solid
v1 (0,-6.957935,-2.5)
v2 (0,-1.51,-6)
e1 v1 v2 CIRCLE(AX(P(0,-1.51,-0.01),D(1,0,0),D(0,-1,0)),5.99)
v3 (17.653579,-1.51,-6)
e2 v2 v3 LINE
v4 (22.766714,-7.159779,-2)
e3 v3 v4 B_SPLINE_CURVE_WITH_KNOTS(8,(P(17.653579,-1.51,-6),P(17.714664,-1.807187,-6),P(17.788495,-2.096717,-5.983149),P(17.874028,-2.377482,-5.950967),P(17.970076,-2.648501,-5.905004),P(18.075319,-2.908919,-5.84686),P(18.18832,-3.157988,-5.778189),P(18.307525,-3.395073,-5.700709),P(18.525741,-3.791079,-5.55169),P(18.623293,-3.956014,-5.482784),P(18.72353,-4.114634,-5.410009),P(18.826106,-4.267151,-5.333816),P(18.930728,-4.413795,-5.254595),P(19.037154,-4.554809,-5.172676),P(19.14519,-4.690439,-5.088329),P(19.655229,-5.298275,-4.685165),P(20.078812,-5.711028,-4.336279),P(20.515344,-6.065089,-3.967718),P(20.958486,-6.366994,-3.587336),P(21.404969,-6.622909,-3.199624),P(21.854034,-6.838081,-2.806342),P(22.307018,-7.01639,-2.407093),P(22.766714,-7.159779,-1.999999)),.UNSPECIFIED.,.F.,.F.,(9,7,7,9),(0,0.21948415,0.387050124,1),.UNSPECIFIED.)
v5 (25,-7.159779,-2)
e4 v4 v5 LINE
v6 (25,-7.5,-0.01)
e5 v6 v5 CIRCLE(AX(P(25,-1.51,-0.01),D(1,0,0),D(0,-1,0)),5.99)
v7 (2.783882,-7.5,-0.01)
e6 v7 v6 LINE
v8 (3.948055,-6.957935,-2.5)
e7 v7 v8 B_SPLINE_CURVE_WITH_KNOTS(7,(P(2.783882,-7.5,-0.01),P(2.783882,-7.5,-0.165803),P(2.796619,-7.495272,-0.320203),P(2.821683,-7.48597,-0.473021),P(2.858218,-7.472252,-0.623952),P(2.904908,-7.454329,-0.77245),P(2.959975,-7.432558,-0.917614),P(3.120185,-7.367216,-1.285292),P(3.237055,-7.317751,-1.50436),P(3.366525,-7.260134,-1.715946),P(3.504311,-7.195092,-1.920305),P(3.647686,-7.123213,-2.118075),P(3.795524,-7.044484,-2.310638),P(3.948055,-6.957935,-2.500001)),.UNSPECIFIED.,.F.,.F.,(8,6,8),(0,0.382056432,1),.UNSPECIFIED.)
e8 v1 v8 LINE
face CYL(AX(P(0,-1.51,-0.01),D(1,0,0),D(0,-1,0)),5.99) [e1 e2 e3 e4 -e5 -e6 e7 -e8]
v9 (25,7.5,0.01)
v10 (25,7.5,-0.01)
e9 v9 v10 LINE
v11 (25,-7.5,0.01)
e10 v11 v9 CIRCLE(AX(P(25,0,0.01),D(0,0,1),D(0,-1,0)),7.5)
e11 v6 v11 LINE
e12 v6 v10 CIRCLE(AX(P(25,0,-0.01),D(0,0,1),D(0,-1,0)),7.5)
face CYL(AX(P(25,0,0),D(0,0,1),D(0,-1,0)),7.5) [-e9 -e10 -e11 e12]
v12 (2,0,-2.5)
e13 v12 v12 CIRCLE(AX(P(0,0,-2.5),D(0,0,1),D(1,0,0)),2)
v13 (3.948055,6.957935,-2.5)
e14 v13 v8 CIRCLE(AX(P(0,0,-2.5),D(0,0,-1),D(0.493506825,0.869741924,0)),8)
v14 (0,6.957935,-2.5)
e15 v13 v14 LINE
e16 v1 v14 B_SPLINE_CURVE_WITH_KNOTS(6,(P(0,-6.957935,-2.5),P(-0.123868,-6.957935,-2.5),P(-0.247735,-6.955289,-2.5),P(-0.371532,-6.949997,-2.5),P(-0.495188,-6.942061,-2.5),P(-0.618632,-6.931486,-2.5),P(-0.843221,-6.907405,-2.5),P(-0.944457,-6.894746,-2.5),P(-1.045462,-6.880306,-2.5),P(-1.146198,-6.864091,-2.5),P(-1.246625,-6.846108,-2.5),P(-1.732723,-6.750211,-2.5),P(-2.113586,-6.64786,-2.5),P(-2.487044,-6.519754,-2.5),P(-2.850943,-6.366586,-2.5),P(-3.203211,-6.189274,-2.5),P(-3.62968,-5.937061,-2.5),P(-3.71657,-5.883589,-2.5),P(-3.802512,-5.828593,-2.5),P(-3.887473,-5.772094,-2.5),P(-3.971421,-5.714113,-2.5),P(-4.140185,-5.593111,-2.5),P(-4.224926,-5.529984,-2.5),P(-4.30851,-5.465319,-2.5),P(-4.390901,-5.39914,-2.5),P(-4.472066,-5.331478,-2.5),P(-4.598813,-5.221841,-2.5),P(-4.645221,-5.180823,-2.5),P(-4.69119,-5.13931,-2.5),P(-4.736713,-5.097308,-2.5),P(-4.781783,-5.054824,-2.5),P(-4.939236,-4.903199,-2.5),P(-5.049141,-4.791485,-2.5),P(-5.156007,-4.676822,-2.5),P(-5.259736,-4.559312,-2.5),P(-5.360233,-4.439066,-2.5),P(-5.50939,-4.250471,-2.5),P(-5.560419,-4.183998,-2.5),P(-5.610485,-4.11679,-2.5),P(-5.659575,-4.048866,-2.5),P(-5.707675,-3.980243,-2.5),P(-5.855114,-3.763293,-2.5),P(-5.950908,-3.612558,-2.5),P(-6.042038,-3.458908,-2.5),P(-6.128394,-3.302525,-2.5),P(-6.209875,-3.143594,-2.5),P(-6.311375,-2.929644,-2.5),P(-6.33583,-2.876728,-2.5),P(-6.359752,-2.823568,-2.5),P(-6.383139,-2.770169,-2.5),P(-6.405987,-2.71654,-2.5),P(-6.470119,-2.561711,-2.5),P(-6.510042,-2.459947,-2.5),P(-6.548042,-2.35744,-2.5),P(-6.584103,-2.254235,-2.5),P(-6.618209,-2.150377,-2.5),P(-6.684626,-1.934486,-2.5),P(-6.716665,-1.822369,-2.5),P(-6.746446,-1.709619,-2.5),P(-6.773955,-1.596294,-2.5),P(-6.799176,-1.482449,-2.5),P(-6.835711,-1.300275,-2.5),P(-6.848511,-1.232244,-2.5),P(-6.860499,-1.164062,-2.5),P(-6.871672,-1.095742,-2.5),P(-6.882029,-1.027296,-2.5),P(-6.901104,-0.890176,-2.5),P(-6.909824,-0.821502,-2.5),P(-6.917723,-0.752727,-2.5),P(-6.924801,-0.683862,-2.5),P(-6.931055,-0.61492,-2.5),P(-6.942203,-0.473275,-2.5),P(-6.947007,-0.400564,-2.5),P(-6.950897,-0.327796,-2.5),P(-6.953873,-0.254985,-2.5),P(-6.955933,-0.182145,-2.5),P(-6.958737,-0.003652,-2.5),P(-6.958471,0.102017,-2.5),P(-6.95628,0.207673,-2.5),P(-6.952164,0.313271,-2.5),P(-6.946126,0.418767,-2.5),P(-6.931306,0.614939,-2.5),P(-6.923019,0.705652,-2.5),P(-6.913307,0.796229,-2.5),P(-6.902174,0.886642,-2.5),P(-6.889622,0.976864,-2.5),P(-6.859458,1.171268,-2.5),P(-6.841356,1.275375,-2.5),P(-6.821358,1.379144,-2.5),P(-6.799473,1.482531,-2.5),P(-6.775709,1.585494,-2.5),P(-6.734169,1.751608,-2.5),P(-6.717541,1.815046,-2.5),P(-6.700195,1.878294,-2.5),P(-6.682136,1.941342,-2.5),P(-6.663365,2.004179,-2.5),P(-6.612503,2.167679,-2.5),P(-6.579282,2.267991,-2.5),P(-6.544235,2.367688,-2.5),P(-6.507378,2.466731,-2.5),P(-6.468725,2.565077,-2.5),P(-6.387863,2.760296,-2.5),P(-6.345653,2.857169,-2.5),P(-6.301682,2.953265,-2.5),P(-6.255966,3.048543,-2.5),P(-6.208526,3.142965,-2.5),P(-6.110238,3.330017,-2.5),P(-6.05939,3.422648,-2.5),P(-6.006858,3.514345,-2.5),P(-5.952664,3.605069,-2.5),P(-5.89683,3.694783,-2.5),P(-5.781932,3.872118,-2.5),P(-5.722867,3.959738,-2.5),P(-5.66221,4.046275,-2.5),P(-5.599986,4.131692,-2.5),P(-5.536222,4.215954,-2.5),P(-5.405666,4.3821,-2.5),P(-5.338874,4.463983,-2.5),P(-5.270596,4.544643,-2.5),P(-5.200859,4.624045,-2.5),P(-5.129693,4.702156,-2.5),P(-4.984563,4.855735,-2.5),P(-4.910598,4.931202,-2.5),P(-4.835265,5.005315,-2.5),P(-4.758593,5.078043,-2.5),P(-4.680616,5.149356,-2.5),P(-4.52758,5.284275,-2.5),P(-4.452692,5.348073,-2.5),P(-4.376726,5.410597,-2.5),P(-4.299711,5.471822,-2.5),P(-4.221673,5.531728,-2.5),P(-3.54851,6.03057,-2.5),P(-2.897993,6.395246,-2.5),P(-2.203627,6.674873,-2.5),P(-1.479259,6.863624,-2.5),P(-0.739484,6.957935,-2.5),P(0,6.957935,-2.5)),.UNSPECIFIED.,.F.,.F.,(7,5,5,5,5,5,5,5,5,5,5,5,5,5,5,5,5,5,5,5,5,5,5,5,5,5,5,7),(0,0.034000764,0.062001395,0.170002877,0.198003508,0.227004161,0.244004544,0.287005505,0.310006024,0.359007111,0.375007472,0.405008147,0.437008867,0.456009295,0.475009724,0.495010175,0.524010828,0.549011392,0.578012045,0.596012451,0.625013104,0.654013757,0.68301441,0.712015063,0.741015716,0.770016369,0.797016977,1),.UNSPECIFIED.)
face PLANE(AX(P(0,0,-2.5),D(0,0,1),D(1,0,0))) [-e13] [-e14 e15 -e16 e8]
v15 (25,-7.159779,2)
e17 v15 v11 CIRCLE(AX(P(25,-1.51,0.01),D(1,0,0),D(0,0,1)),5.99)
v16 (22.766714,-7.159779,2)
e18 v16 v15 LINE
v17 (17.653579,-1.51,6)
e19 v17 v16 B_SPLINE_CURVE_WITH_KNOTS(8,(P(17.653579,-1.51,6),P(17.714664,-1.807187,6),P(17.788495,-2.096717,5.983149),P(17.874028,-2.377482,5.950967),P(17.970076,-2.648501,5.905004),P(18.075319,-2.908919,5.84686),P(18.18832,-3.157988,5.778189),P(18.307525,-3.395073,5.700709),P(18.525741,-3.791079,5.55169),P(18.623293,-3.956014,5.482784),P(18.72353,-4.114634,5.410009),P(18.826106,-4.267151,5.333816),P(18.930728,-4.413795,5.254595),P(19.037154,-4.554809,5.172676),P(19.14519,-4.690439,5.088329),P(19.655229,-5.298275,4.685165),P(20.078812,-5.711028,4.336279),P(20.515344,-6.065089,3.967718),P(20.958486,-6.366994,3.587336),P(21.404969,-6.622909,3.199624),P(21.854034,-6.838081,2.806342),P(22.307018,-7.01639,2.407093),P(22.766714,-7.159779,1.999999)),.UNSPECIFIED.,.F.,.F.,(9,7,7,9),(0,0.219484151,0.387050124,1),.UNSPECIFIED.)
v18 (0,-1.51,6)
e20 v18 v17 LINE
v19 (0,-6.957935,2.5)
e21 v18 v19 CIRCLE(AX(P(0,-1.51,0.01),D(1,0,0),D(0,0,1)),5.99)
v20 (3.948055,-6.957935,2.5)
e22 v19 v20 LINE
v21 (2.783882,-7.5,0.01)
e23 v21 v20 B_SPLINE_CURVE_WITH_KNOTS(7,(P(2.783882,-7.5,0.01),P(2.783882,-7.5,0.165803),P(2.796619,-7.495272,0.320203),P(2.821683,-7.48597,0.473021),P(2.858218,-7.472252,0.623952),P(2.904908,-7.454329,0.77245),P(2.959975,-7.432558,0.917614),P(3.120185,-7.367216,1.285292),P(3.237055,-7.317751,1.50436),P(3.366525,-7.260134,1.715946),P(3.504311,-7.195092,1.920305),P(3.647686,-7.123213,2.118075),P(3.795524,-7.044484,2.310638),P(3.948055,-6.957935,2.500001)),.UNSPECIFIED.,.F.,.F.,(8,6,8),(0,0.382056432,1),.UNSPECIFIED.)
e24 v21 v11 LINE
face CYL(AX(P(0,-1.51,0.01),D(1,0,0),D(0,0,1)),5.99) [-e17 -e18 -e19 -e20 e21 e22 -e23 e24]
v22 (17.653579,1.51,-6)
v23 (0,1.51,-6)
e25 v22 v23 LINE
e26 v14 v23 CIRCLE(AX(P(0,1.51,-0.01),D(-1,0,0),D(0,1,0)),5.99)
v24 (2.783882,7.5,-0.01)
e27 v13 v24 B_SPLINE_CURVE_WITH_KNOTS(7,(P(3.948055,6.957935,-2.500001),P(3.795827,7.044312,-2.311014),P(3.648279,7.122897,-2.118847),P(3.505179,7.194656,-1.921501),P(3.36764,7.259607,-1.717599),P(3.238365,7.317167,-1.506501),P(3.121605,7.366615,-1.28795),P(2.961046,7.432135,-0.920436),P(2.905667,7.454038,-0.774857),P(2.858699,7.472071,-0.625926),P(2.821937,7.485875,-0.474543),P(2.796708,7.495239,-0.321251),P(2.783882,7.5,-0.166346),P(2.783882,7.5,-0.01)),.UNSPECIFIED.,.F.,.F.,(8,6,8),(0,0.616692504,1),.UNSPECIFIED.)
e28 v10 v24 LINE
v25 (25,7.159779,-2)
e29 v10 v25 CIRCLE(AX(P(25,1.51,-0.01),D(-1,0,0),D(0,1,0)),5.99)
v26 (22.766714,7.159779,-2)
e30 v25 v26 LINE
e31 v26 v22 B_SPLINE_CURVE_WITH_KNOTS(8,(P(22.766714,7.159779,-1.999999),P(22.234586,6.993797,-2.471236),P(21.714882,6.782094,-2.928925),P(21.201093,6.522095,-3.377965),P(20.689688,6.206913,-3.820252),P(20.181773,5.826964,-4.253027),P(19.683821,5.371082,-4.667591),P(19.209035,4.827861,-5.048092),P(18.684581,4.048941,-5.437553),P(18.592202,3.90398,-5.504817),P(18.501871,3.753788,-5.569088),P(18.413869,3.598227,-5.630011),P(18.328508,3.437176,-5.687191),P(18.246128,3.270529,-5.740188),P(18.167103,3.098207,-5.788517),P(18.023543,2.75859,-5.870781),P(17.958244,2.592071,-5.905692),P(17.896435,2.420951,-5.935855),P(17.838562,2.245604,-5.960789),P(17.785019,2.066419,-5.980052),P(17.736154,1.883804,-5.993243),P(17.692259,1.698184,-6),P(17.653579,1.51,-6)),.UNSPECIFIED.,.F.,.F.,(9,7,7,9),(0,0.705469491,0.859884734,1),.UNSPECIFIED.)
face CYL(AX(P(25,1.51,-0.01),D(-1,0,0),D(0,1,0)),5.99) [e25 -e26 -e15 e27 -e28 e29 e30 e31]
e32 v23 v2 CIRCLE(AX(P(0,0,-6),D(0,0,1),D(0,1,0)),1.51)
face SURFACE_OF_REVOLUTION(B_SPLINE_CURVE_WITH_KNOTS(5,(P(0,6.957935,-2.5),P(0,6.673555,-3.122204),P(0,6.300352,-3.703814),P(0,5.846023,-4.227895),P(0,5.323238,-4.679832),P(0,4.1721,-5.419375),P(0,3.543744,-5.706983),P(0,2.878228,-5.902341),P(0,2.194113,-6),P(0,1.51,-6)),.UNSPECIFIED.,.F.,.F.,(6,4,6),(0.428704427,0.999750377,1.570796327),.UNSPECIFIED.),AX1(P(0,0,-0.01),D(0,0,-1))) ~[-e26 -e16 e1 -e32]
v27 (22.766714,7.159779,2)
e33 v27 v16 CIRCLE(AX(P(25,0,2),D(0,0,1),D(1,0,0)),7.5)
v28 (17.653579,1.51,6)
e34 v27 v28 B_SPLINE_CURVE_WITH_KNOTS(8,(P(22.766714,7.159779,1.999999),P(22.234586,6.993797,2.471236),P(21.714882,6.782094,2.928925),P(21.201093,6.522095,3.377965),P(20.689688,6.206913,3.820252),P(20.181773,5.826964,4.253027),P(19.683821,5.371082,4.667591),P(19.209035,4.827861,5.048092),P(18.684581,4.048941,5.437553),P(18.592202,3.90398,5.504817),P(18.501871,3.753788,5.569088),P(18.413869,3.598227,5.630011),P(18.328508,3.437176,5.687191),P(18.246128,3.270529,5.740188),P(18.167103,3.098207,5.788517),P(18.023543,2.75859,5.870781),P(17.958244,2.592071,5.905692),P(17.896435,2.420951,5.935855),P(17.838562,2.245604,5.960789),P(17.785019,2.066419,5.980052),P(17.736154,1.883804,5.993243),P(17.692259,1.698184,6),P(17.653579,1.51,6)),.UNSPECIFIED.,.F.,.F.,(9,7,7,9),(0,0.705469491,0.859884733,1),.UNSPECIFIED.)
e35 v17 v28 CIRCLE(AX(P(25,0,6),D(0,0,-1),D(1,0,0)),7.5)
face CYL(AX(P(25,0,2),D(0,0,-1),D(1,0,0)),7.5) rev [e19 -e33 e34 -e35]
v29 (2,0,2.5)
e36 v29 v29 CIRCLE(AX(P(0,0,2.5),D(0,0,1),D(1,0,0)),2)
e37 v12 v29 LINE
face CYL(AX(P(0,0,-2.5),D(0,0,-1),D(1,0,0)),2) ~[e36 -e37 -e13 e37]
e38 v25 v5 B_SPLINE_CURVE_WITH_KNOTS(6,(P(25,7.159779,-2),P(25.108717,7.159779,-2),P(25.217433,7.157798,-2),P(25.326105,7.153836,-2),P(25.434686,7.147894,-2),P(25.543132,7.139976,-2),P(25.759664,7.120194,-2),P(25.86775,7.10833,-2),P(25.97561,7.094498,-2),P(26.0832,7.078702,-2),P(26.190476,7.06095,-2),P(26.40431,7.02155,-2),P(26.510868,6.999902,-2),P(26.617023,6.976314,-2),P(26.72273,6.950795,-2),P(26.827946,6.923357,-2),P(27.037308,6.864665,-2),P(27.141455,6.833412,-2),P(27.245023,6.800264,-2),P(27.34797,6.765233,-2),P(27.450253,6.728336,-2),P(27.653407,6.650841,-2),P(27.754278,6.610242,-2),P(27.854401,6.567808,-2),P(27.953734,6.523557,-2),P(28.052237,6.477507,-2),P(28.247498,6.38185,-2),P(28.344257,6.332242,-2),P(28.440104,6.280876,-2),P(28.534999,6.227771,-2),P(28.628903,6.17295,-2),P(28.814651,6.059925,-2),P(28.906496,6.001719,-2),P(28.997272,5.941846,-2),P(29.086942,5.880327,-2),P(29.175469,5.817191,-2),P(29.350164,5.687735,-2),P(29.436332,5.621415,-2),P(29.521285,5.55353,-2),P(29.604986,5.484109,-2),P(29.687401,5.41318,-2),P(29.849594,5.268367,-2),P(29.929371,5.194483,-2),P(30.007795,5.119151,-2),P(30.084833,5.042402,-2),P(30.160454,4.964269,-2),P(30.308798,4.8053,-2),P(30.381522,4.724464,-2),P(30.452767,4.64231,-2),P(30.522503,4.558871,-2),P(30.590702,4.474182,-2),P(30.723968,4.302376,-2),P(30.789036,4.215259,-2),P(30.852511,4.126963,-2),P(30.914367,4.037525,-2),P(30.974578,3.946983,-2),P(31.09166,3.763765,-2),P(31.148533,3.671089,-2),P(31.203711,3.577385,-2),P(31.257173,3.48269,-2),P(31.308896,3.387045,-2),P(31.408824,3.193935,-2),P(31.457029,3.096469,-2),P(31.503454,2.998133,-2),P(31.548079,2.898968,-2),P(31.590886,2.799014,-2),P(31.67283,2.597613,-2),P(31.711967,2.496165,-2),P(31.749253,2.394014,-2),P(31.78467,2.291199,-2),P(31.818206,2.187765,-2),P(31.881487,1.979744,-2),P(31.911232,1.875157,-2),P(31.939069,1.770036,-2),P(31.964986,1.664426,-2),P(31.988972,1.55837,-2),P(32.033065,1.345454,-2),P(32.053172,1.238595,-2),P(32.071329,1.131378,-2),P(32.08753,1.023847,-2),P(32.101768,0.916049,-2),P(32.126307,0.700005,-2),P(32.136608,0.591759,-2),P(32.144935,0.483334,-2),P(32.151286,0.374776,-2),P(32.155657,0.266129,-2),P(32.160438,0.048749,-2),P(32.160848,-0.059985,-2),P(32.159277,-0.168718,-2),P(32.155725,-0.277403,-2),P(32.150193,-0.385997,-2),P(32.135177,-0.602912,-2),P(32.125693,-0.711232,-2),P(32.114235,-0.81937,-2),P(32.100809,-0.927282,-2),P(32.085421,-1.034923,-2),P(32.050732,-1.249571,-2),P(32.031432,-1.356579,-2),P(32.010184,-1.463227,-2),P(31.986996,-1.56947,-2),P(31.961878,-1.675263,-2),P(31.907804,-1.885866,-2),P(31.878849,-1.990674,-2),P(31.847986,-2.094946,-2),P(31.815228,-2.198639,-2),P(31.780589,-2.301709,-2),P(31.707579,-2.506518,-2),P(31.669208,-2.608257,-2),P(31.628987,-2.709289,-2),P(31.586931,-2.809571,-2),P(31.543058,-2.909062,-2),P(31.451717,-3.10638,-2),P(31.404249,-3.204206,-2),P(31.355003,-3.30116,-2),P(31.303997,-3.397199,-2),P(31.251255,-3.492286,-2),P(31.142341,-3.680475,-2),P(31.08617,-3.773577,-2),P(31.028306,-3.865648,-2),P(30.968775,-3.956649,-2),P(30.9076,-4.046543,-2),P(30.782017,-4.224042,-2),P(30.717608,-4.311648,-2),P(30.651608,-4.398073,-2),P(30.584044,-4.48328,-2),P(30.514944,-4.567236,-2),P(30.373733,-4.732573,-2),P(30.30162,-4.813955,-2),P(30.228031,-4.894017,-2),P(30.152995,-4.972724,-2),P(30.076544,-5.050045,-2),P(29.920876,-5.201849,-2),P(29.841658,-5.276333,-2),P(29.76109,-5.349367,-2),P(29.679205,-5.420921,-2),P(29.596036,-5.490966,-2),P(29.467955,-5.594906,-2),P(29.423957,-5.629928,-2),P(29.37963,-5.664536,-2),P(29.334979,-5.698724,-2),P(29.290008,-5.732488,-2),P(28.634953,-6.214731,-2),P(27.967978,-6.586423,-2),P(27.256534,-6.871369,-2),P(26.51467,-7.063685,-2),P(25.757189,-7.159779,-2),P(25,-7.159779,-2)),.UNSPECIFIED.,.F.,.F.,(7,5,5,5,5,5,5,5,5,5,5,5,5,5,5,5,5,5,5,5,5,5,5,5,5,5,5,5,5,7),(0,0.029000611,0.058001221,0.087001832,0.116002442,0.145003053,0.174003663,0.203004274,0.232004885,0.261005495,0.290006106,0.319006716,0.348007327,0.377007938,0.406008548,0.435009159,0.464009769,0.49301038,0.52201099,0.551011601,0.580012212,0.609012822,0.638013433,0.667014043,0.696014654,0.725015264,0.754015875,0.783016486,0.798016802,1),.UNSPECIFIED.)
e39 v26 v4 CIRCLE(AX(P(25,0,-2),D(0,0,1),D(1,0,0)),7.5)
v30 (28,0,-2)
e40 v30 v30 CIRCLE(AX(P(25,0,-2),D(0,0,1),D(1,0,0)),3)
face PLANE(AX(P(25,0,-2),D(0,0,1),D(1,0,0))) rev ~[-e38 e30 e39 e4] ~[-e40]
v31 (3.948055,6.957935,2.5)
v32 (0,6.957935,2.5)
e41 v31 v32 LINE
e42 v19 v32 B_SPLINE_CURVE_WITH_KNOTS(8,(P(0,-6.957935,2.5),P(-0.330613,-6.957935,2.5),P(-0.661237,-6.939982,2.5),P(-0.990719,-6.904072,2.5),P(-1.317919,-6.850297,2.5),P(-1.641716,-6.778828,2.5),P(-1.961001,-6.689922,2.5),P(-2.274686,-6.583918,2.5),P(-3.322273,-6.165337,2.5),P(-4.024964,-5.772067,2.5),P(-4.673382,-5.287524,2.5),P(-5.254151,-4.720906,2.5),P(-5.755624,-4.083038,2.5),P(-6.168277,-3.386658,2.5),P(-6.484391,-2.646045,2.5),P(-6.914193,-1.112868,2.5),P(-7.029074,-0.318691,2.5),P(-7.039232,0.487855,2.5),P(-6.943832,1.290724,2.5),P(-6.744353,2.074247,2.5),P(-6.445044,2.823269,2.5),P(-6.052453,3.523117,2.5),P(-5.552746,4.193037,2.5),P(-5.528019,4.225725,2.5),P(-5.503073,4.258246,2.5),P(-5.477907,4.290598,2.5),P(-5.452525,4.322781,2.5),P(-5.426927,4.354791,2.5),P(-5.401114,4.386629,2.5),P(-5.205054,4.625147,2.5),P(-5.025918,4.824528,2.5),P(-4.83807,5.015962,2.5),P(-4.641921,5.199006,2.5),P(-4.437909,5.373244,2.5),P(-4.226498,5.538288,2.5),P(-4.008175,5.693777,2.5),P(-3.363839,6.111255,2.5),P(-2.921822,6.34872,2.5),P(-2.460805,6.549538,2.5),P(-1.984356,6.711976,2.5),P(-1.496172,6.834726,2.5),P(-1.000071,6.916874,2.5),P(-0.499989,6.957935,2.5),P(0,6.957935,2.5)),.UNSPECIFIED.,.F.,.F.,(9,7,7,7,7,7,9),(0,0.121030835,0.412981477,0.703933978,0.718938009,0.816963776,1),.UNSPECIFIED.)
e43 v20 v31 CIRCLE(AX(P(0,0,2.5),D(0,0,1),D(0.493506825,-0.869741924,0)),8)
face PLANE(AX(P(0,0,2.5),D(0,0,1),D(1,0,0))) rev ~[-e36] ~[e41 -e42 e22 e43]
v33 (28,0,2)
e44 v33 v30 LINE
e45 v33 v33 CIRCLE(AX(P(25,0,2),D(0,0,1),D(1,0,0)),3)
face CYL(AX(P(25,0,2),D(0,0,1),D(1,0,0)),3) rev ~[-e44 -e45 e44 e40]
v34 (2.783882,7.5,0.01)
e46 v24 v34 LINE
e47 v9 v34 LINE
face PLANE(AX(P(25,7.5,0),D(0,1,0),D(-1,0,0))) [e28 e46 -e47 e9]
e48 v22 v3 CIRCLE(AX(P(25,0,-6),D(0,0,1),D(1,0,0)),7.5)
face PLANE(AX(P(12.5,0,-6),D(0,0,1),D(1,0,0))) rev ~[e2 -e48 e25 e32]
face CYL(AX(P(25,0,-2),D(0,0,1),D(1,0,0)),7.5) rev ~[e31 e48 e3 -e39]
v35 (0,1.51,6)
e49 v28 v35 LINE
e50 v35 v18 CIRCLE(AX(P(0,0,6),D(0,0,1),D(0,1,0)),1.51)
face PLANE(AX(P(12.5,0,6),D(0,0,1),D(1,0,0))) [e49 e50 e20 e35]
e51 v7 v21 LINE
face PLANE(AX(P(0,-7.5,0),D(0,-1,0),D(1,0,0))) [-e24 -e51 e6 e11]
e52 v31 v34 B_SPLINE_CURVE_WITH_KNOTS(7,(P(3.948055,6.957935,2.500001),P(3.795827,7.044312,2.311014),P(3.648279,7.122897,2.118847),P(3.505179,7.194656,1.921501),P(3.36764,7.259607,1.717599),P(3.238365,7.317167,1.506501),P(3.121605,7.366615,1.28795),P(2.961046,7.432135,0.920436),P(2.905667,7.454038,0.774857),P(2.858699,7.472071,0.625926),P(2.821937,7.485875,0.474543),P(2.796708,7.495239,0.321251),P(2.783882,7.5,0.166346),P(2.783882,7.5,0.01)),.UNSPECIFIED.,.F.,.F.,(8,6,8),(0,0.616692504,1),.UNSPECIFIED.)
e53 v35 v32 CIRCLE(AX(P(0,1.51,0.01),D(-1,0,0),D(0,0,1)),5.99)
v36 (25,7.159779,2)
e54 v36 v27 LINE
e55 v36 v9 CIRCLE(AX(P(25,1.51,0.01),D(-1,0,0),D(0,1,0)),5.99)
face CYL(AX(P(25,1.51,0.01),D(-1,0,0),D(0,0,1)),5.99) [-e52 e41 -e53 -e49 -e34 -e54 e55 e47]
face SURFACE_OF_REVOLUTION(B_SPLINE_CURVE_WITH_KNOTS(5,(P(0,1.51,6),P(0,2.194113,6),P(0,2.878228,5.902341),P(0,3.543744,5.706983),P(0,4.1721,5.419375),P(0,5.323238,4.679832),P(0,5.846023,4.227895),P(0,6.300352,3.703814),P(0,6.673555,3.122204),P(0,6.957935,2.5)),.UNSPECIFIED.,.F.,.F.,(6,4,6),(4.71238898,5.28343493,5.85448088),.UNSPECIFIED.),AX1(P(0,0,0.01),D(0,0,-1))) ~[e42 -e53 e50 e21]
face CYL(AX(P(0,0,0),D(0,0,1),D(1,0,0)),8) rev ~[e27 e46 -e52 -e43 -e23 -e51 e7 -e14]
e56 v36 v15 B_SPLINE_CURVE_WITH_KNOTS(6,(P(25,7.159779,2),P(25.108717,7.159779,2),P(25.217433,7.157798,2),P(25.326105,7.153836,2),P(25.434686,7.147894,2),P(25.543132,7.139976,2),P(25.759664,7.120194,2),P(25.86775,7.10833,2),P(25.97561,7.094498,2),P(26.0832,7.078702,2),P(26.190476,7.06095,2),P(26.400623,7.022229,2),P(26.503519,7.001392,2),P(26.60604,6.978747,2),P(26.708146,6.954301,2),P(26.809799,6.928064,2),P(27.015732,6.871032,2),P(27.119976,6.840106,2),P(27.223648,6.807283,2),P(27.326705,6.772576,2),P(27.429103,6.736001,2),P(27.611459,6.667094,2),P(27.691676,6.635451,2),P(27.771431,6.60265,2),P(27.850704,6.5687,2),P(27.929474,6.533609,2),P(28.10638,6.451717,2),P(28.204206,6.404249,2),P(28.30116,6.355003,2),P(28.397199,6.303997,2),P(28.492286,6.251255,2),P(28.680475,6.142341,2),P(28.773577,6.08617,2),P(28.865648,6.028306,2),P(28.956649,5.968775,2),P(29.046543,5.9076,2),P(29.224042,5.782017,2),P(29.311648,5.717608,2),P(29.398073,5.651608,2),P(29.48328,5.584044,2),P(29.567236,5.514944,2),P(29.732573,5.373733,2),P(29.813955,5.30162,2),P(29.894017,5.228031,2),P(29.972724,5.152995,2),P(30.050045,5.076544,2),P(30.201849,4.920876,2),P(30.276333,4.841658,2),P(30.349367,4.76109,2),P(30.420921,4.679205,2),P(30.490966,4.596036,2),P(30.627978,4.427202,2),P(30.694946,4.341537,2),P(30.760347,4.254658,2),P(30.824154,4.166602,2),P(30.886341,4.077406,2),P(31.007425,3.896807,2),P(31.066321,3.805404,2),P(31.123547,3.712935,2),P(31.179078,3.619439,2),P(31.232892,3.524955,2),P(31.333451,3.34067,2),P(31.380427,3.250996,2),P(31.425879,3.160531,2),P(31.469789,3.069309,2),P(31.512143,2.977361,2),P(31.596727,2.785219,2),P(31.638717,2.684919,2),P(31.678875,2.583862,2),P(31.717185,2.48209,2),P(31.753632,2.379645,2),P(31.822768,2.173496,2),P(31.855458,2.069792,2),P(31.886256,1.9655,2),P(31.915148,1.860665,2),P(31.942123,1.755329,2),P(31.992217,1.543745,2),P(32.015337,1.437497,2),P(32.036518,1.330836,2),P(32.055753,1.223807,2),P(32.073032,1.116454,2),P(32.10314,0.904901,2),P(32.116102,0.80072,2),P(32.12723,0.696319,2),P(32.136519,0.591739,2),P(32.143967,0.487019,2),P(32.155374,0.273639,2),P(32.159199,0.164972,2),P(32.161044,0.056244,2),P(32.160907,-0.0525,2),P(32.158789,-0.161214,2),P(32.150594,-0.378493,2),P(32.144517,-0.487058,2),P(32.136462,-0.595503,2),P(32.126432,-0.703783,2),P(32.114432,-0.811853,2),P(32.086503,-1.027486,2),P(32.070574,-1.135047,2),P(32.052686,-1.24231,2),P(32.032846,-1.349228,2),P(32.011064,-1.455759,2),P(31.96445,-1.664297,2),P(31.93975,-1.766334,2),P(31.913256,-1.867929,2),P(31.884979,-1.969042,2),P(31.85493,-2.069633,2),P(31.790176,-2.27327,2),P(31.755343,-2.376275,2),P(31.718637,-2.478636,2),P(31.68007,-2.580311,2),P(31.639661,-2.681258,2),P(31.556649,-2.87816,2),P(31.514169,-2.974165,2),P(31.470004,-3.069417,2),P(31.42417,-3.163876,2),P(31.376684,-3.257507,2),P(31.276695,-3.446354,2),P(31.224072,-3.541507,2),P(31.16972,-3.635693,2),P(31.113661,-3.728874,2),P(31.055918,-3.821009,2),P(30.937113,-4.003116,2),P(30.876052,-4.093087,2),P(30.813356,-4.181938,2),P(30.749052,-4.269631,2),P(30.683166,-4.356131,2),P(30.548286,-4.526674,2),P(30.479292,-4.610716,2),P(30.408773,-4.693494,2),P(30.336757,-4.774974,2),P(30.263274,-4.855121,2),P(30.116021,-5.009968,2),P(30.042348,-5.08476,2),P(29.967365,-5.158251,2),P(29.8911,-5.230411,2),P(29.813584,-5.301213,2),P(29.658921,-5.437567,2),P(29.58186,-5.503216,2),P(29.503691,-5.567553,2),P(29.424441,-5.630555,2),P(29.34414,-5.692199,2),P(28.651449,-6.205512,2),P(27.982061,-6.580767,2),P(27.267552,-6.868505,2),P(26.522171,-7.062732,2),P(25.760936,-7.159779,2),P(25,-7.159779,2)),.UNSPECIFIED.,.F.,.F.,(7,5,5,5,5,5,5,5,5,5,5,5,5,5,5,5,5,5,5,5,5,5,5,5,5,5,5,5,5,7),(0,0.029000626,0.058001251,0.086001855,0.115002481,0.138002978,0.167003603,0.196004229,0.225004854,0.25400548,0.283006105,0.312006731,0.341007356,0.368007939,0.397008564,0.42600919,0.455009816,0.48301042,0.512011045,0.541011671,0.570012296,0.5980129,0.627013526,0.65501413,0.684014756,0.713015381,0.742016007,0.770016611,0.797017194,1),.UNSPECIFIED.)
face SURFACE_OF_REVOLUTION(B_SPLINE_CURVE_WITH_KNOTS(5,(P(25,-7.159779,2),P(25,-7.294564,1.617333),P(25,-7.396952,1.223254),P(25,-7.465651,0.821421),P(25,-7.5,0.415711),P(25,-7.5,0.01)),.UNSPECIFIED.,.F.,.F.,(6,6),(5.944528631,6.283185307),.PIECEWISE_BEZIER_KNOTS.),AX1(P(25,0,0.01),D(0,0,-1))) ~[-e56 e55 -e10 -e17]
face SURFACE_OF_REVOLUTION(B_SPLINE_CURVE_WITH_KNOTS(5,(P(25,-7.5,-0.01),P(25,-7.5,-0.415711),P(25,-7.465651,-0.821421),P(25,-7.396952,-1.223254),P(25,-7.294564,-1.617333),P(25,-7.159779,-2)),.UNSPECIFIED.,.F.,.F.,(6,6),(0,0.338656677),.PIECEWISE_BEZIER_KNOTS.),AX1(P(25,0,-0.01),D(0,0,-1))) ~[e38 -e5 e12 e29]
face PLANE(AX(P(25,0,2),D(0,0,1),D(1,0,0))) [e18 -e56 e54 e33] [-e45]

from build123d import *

# Parameters (mm, degrees)
PAD_DEPTH       = 6
FILLET_R        = 5.99
SKETCH001_R     = 8
POCKET_DEPTH    = 2.5
SKETCH002_R     = 7.5
POCKET001_DEPTH = 4.001
SKETCH003_R     = 7.5
POCKET002_DEPTH = 4.001
SKETCH004_R     = 3
POCKET003_DEPTH = 4
SKETCH005_R     = 2
PAD001_DEPTH    = 5


with BuildPart() as part:
    # Sketch → Pad (new body, symmetric)
    with BuildSketch(Plane.XY):
        with BuildLine():
            ThreePointArc((0, 7.5), (-7.5, 0), (0, -7.5))
            Line((0, -7.5), (25, -7.5))
            ThreePointArc((25, -7.5), (32.5, 0), (25, 7.5))
            Line((25, 7.5), (0, 7.5))
        make_face()
    extrude(amount=PAD_DEPTH, both=True)

    # Fillet
    fillet_edges = [part.edges().sort_by_distance(p)[0] for p in [
        (0, -7.5, 0),
        (25, -7.5, 0),
        (12.5, -7.5, -6),
        (12.5, -7.5, 6),
    ]]
    fillet(fillet_edges, radius=FILLET_R)

    # Sketch001 → Pocket (cut, symmetric)
    with BuildSketch(Plane.XY):
        Circle(SKETCH001_R)
    extrude(amount=POCKET_DEPTH, both=True, mode=Mode.SUBTRACT)

    # Sketch002 → Pocket001 (cut, through all)
    with BuildSketch(Plane.XY.offset(2)):
        with Locations((25, 0)):
            Circle(SKETCH002_R)
    extrude(amount=POCKET001_DEPTH, mode=Mode.SUBTRACT)

    # Sketch003 → Pocket002 (cut, through all)
    with BuildSketch(Plane.XY.offset(-2)):
        with Locations((25, 0)):
            Circle(SKETCH003_R)
    extrude(amount=-POCKET002_DEPTH, mode=Mode.SUBTRACT)

    # Sketch004 (on Face17 of Pocket002) → Pocket003 (cut)
    with BuildSketch(Plane.XY.offset(2)):
        with Locations((25, 0)):
            Circle(SKETCH004_R)
    extrude(amount=-POCKET003_DEPTH, mode=Mode.SUBTRACT)

    # Sketch005 (on Face6 of Pocket003) → Pad001 (join)
    with BuildSketch(Plane.XY.offset(-2.5)):
        Circle(SKETCH005_R)
    extrude(amount=PAD001_DEPTH)


solid = part.part
